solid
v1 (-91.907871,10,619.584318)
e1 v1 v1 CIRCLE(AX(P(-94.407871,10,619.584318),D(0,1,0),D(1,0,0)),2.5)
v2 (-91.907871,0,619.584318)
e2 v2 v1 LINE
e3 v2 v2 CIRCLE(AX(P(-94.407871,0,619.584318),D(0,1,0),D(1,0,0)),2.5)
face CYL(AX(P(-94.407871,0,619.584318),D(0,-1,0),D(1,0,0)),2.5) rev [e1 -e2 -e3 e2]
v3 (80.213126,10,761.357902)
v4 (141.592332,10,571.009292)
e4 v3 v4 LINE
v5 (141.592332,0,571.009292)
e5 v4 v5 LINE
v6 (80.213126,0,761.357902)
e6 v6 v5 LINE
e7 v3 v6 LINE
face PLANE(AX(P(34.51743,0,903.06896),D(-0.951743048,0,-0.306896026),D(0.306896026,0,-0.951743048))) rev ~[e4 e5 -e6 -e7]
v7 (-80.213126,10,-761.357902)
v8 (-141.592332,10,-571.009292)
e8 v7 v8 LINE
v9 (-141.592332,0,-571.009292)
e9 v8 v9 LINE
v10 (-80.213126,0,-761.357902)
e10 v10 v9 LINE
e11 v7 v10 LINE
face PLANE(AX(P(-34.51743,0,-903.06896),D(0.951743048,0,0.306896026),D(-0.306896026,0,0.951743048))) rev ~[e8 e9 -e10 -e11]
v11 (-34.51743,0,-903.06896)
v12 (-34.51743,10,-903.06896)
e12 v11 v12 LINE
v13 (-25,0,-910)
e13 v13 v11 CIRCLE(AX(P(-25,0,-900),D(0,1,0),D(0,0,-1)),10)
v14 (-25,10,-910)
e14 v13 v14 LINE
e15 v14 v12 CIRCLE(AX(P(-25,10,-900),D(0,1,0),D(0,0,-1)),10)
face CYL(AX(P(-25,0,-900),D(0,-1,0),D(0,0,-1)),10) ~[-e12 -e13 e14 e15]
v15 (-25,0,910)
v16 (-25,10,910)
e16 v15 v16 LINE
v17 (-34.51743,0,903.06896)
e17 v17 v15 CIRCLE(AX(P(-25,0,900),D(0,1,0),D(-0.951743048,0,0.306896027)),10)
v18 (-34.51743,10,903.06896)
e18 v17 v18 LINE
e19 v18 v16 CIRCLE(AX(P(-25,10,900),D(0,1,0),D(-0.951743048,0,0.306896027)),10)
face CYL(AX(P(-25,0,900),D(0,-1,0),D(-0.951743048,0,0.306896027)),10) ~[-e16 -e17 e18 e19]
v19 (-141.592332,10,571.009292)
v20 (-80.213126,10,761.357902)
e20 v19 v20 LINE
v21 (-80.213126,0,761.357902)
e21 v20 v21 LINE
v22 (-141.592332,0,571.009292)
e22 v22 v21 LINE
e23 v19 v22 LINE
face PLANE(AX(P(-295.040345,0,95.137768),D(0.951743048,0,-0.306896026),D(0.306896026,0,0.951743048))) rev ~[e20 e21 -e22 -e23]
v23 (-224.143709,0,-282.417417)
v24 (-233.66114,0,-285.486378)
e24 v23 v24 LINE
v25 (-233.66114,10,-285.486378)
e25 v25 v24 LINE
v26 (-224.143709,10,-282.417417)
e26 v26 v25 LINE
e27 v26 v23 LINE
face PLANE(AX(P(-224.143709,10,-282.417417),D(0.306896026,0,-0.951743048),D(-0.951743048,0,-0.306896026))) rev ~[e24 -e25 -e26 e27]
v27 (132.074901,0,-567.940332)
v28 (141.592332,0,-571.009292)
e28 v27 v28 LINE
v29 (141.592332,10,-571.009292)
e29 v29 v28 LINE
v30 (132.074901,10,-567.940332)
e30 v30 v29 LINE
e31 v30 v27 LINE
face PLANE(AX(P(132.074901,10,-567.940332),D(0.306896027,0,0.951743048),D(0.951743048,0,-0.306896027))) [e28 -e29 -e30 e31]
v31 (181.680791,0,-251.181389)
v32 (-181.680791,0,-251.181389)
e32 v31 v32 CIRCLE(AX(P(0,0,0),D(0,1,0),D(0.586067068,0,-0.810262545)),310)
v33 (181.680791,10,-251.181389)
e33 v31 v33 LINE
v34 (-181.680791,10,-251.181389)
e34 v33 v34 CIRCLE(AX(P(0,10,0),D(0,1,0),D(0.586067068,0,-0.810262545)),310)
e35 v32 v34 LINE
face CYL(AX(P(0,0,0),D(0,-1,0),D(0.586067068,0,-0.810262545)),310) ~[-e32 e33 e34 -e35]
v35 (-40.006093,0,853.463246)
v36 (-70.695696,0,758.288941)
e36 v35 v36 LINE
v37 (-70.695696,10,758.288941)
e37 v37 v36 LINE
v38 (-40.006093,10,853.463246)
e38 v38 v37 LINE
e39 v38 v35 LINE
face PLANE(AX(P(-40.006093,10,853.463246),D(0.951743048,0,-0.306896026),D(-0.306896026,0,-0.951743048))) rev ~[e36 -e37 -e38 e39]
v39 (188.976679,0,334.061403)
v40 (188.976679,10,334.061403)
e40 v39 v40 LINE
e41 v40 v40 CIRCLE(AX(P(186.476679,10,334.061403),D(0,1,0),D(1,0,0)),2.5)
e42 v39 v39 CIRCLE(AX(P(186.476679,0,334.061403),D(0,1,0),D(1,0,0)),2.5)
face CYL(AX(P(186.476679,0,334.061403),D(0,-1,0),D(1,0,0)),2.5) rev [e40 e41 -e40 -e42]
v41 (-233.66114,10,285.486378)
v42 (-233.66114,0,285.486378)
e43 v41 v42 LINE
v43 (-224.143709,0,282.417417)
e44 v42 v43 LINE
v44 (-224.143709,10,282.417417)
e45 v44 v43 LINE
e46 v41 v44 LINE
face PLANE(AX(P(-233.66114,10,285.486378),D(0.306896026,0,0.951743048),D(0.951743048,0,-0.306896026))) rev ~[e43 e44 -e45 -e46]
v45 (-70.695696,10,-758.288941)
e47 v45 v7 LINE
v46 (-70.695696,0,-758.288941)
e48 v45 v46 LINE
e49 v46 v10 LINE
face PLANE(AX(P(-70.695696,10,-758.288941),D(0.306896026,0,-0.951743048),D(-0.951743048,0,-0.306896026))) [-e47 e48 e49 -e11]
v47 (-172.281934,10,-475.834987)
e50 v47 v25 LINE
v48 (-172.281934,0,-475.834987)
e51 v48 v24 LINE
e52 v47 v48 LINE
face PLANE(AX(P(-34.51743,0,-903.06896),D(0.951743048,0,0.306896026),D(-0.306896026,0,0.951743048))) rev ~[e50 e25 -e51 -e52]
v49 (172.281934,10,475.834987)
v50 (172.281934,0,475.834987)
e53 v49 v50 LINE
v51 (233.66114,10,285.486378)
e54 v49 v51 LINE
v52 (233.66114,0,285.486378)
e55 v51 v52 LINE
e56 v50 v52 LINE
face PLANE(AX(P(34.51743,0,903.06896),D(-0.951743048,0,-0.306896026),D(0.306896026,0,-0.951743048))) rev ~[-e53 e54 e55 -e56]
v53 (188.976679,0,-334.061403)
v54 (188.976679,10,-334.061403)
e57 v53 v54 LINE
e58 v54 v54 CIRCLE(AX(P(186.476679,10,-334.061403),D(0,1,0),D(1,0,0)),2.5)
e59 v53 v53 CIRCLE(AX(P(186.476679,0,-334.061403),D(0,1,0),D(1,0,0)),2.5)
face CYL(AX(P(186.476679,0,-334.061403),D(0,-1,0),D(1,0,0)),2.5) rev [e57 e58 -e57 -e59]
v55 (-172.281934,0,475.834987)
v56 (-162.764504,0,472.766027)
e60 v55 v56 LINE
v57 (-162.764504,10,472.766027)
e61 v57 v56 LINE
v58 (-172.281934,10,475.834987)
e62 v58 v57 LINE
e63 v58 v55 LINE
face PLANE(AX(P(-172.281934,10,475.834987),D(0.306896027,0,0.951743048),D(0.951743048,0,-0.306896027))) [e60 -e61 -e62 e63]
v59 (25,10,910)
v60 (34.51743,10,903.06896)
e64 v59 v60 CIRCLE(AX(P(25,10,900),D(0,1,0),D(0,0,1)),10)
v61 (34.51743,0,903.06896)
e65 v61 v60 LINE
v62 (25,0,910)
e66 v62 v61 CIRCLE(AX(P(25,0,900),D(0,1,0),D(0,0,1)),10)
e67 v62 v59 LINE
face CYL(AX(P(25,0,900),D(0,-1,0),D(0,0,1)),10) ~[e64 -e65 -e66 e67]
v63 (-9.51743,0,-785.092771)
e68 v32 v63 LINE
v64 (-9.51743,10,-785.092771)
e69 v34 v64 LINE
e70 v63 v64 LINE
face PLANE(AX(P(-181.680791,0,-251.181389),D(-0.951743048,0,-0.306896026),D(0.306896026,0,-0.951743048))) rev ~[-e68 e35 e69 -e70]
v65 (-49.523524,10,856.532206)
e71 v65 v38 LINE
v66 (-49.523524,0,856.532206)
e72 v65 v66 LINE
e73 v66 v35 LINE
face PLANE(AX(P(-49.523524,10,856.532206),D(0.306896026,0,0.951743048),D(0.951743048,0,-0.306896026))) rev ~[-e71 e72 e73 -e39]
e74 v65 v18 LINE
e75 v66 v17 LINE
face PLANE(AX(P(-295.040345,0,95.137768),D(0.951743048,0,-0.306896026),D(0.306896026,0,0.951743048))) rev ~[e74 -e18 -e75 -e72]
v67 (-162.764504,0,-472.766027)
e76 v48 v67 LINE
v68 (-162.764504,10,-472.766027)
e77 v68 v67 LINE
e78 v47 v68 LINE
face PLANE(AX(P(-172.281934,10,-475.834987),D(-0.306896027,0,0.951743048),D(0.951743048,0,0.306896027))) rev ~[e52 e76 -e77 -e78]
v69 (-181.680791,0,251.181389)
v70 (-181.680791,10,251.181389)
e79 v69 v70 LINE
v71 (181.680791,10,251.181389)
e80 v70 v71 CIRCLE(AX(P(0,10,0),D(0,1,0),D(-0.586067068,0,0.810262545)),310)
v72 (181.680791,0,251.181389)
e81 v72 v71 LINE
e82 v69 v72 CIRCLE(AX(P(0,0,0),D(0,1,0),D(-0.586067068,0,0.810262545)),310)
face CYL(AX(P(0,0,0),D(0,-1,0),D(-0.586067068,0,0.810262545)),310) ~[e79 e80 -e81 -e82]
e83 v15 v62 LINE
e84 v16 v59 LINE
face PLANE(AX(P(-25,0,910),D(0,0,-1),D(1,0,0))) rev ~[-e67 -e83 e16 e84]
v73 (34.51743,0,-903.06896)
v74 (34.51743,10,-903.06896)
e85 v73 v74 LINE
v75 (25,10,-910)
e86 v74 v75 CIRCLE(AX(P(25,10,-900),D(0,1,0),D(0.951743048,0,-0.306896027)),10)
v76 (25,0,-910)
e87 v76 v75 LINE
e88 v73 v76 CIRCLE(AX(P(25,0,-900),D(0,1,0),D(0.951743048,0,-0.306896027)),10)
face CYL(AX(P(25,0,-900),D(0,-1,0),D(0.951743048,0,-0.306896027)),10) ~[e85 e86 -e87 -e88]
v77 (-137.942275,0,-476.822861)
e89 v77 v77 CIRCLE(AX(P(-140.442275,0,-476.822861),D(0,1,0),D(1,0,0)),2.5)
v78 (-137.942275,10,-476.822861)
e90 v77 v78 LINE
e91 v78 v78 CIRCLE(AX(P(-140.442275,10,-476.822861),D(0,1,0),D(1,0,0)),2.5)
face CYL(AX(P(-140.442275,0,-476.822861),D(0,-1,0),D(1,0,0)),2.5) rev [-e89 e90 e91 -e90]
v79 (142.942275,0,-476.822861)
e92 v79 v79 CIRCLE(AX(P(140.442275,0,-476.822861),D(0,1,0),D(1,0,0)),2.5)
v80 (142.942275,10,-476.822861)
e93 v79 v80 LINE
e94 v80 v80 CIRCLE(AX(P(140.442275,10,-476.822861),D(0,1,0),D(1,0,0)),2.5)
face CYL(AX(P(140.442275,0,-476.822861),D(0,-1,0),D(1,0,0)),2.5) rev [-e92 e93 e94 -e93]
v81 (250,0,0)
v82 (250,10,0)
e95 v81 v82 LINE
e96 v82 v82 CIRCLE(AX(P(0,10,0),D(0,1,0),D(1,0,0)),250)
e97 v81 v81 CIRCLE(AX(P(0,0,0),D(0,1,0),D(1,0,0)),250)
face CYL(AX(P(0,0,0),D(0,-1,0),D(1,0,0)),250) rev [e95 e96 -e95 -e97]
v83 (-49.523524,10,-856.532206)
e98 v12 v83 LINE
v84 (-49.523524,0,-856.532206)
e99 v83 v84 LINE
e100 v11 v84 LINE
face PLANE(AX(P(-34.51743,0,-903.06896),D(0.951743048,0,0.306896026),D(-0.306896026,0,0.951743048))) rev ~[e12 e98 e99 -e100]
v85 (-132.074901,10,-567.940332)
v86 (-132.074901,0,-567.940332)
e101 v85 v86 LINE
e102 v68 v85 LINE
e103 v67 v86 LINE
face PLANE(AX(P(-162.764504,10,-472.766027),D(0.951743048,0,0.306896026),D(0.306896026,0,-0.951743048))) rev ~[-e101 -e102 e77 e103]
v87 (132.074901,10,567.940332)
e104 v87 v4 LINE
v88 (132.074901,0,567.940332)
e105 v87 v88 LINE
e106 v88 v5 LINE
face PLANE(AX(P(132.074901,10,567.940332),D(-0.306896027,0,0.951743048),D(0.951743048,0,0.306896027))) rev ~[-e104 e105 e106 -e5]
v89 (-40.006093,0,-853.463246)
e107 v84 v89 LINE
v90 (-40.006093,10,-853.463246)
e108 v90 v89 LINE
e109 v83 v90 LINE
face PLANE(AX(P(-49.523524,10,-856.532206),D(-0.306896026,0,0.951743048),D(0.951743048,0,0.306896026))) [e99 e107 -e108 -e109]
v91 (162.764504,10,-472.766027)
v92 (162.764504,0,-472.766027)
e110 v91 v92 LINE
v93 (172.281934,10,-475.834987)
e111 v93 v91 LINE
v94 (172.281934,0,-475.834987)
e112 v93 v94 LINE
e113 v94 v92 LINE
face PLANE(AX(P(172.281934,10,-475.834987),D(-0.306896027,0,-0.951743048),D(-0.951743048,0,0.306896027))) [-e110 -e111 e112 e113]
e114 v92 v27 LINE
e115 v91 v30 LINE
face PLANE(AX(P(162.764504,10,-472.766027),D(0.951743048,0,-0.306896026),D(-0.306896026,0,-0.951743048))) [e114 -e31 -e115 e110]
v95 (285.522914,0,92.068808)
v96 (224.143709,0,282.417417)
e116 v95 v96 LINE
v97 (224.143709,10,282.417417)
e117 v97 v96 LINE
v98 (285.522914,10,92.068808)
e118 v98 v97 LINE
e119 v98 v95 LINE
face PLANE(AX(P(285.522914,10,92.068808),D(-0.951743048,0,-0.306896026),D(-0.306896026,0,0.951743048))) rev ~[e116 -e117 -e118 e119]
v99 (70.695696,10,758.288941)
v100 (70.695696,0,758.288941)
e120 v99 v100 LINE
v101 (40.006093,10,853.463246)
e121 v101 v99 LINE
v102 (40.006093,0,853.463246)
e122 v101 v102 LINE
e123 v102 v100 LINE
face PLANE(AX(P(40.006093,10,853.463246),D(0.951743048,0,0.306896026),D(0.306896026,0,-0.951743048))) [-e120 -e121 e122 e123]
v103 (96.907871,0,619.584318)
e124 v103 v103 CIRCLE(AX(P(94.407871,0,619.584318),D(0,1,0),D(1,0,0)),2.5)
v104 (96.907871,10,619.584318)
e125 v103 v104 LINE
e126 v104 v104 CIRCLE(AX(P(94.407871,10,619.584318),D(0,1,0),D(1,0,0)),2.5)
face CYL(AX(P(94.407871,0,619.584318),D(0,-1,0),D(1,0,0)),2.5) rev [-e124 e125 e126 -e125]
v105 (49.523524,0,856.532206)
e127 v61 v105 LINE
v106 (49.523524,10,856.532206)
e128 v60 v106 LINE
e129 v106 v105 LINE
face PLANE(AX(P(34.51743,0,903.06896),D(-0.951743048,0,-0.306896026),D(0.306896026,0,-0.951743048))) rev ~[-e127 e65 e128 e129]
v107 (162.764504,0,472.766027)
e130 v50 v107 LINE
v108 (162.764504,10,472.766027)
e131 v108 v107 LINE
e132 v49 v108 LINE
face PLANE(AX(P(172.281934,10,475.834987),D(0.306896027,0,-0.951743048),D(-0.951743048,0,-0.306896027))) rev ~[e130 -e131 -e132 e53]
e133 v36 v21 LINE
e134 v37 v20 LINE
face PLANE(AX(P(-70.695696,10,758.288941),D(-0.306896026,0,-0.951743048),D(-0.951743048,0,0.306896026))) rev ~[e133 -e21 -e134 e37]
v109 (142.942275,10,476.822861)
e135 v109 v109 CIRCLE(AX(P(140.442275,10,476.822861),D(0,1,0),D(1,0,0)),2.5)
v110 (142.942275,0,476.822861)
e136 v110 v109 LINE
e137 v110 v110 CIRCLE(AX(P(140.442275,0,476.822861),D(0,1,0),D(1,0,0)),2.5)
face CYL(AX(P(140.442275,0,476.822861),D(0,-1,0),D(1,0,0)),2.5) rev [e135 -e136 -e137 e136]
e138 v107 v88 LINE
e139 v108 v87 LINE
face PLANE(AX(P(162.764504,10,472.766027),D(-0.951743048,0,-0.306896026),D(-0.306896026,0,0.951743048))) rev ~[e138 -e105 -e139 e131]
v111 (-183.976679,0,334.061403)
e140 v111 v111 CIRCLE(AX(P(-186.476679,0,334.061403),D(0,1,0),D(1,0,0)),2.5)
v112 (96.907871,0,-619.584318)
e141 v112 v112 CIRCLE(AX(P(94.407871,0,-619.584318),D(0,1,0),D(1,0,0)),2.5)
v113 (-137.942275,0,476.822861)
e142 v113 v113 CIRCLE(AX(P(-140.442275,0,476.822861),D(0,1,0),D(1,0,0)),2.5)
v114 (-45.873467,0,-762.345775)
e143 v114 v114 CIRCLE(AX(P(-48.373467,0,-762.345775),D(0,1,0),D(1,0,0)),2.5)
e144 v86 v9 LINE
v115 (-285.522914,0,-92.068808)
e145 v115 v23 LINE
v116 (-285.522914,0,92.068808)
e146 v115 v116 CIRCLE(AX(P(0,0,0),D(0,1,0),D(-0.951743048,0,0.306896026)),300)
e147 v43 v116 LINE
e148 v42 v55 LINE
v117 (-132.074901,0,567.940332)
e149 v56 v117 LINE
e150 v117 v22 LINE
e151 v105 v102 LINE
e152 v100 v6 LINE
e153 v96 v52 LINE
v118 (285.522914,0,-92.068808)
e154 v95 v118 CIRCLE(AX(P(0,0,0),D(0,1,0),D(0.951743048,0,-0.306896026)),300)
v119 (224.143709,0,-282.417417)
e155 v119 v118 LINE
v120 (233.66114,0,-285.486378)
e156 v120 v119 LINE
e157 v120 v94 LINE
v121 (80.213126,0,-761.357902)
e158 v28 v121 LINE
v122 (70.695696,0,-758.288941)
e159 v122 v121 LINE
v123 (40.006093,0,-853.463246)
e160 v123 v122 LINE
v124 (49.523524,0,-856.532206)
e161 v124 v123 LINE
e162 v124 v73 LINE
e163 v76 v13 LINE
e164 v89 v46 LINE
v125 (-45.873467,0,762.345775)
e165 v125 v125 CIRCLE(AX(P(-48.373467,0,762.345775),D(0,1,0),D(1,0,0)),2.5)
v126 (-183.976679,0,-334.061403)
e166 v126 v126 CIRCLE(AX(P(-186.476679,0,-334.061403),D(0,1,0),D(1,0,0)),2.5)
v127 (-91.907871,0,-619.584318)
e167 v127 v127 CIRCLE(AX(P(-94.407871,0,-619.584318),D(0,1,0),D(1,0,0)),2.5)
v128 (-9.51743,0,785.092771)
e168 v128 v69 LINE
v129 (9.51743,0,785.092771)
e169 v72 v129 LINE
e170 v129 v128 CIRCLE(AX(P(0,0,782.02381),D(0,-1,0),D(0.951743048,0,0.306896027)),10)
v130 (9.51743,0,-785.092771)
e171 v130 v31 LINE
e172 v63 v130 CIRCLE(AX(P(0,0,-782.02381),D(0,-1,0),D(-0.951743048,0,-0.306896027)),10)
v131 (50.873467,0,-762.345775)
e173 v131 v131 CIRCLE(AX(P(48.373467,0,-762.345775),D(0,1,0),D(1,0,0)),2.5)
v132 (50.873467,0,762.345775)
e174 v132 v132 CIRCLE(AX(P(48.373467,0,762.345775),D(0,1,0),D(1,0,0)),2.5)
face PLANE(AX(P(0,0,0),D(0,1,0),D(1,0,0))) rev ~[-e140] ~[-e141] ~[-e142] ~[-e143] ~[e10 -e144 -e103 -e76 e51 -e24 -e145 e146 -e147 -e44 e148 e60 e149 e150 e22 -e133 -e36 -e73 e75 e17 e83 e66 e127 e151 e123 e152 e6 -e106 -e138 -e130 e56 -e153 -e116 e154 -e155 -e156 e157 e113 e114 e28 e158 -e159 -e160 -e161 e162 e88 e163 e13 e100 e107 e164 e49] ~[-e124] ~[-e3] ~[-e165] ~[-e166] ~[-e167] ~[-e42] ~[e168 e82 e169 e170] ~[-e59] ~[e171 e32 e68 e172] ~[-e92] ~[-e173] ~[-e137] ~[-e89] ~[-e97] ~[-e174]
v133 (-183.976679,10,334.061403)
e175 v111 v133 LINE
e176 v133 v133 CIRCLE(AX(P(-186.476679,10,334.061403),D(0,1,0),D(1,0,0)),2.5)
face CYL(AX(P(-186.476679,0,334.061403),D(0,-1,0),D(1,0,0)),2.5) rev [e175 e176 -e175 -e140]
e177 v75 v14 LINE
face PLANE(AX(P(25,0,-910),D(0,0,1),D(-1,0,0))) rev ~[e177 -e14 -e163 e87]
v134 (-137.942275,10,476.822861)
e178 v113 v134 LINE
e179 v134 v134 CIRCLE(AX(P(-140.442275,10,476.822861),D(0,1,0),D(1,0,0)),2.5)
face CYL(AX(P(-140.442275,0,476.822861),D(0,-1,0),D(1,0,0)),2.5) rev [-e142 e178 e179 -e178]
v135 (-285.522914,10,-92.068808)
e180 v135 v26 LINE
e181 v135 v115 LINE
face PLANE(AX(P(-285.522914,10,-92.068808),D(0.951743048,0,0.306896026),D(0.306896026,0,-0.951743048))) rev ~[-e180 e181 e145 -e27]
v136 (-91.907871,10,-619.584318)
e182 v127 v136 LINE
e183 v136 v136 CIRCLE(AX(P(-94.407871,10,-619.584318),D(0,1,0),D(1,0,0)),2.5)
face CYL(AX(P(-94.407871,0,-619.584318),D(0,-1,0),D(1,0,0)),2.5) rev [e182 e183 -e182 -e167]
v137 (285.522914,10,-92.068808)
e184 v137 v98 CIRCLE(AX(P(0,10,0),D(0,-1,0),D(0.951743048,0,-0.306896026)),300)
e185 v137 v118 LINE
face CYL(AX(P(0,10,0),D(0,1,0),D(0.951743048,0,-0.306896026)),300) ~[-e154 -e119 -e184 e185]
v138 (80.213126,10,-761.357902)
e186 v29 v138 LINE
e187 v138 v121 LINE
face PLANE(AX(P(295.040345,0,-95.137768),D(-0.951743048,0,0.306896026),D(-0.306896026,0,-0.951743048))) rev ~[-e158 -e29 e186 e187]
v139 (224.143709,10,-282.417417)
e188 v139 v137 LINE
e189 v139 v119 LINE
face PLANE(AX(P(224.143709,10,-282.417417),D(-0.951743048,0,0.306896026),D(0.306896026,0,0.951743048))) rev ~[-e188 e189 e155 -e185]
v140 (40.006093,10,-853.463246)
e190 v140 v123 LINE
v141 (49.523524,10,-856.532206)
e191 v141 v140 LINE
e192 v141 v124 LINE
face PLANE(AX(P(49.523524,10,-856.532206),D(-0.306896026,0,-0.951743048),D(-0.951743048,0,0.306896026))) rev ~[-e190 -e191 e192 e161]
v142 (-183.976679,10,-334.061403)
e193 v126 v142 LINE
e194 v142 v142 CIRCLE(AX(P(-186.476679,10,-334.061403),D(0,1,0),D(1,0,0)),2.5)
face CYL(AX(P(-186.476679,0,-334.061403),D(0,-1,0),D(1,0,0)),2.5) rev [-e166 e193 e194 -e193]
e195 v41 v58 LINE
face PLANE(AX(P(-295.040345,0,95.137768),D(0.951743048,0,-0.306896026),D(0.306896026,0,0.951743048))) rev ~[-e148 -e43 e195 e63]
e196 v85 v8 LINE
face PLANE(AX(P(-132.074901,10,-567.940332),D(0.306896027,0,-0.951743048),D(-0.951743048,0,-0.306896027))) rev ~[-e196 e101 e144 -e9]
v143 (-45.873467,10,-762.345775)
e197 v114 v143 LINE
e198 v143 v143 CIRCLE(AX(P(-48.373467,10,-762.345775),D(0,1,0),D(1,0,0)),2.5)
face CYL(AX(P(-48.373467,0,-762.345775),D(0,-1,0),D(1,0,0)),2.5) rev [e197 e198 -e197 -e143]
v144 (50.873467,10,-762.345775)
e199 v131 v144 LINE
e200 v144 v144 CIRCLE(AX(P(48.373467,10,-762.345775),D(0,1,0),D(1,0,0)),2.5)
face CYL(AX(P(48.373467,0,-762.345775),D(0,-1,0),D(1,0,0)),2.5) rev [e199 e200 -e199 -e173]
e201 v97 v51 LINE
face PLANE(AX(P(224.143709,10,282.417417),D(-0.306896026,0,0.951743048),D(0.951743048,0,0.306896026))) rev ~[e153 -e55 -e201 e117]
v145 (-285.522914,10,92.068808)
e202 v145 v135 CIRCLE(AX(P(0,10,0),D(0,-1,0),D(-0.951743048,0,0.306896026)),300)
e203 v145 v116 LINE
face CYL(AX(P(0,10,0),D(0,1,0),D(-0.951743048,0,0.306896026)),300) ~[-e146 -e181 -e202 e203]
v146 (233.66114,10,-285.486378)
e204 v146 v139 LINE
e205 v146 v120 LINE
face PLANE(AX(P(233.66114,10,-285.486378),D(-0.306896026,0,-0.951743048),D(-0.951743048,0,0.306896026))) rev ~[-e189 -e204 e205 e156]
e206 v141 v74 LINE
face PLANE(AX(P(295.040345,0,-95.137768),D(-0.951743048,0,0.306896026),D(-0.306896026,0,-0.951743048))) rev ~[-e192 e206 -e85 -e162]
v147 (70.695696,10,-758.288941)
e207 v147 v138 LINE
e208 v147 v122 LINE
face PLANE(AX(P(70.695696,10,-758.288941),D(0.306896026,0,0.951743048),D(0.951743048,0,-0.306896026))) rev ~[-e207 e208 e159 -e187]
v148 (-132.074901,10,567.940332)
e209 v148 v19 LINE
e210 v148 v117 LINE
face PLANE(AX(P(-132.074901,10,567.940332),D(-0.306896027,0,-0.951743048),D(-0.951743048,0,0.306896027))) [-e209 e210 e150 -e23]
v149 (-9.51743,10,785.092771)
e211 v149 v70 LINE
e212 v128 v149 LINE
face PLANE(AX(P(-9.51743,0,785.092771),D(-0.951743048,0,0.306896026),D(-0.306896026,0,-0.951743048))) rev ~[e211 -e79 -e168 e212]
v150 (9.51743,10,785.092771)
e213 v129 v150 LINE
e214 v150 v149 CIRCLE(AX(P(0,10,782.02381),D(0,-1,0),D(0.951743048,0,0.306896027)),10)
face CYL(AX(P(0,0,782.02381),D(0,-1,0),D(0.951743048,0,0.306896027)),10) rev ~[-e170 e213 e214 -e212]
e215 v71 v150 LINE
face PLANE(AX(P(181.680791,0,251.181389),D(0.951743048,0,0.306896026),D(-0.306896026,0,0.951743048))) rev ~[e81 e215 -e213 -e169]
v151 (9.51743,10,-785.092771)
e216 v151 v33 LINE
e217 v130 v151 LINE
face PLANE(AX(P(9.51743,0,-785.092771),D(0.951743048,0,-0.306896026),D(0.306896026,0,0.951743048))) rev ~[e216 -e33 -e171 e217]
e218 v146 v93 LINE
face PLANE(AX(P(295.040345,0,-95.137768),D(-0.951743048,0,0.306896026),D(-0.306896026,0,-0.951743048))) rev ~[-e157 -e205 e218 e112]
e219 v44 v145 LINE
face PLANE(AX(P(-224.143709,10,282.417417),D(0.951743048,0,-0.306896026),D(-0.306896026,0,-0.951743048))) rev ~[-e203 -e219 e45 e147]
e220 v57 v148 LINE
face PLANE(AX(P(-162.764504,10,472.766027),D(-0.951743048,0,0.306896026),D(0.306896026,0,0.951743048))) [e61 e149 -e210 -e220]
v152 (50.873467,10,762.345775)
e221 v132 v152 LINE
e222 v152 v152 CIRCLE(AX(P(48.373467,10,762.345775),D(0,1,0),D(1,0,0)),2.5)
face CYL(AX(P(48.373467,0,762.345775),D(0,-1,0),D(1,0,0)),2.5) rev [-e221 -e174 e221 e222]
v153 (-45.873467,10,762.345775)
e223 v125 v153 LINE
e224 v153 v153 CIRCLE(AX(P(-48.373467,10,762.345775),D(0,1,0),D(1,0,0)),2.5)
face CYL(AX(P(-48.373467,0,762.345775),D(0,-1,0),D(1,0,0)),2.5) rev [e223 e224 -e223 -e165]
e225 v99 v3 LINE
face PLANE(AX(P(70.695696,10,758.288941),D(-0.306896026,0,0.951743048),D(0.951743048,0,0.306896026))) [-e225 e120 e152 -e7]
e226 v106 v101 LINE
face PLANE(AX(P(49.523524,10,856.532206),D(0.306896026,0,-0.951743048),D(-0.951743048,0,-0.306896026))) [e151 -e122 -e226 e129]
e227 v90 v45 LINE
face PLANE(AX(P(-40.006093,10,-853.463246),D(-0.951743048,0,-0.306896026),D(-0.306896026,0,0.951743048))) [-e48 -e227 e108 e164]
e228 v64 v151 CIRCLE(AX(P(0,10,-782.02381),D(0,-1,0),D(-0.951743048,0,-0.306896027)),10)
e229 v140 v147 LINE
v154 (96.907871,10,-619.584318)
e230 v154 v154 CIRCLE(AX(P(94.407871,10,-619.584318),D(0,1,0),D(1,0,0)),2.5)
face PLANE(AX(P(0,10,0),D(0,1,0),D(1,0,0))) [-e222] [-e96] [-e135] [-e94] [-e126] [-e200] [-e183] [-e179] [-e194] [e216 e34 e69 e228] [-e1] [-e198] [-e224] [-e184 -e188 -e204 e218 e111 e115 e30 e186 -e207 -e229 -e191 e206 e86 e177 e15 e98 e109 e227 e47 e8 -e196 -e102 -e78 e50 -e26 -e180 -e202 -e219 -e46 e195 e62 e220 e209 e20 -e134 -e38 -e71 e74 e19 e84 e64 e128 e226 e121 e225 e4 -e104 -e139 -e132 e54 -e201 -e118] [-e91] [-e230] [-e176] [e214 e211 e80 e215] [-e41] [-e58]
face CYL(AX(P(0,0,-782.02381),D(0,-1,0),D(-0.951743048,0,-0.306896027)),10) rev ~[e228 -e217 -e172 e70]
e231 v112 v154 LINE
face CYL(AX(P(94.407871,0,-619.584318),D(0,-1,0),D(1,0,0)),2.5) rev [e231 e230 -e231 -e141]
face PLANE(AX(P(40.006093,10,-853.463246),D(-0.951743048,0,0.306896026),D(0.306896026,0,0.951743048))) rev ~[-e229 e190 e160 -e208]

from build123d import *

# Parameters (mm, degrees)
SKETCH2_R           = 2.5
SKETCH2_R_2         = 250
BOSS_EXTRUDE1_DEPTH = 10
CUT_EXTRUDE1_DEPTH  = 11


with BuildPart() as part:
    # Sketch2 → Boss-Extrude1 (new body)
    with BuildSketch(Plane(origin=(0, 0, 0), x_dir=(1, 0, 0), z_dir=(0, 1, 0))):
        with BuildLine():
            Line((-34.517430478, 903.068960265), (-295.040344804, 95.1377682))
            ThreePointArc((-295.040344804, 95.1377682), (-310, 0), (-295.040344804, -95.1377682))
            Line((-295.040344804, -95.1377682), (-34.517430478, -903.068960265))
            ThreePointArc((-34.517430478, -903.068960265), (-30.886866626, -908.083613135), (-25, -910))
            Line((-25, -910), (25, -910))
            ThreePointArc((25, -910), (30.886866626, -908.083613135), (34.517430478, -903.068960265))
            Line((34.517430478, -903.068960265), (295.040344804, -95.1377682))
            ThreePointArc((295.040344804, -95.1377682), (310, 0), (295.040344804, 95.1377682))
            Line((295.040344804, 95.1377682), (34.517430478, 903.068960265))
            ThreePointArc((34.517430478, 903.068960265), (30.886866626, 908.083613135), (25, 910))
            Line((25, 910), (-25, 910))
            ThreePointArc((-25, 910), (-30.886866626, 908.083613135), (-34.517430478, 903.068960265))
        make_face()
        with Locations((-48.373467006, -762.345774842)):
            Circle(SKETCH2_R, mode=Mode.SUBTRACT)
        with Locations((-94.407870974, -619.584317679)):
            Circle(SKETCH2_R, mode=Mode.SUBTRACT)
        with Locations((-140.442274942, -476.822860516)):
            Circle(SKETCH2_R, mode=Mode.SUBTRACT)
        with BuildLine():
            ThreePointArc((-181.680791071, -251.181388952), (0, -310), (181.680791071, -251.181388952))
            Line((181.680791071, -251.181388952), (9.517430478, -785.092770658))
            ThreePointArc((9.517430478, -785.092770658), (0, -792.023810393), (-9.517430478, -785.092770658))
            Line((-9.517430478, -785.092770658), (-181.680791071, -251.181388952))
        make_face(mode=Mode.SUBTRACT)
        with Locations((-186.476678909, -334.061403353)):
            Circle(SKETCH2_R, mode=Mode.SUBTRACT)
        with Locations((48.373467006, -762.345774842)):
            Circle(SKETCH2_R, mode=Mode.SUBTRACT)
        with Locations((94.407870974, -619.584317679)):
            Circle(SKETCH2_R, mode=Mode.SUBTRACT)
        with Locations((140.442274942, -476.822860516)):
            Circle(SKETCH2_R, mode=Mode.SUBTRACT)
        with Locations((186.476678909, -334.061403353)):
            Circle(SKETCH2_R, mode=Mode.SUBTRACT)
        with Locations((-186.476678909, 334.061403353)):
            Circle(SKETCH2_R, mode=Mode.SUBTRACT)
        with Locations((-140.442274942, 476.822860516)):
            Circle(SKETCH2_R, mode=Mode.SUBTRACT)
        with Locations((-94.407870974, 619.584317679)):
            Circle(SKETCH2_R, mode=Mode.SUBTRACT)
        with BuildLine():
            ThreePointArc((181.680791071, 251.181388952), (0, 310), (-181.680791071, 251.181388952))
            Line((-181.680791071, 251.181388952), (-9.517430478, 785.092770658))
            ThreePointArc((-9.517430478, 785.092770658), (0, 792.023810393), (9.517430478, 785.092770658))
            Line((9.517430478, 785.092770658), (181.680791071, 251.181388952))
        make_face(mode=Mode.SUBTRACT)
        with Locations((-48.373467006, 762.345774842)):
            Circle(SKETCH2_R, mode=Mode.SUBTRACT)
        Circle(SKETCH2_R_2, mode=Mode.SUBTRACT)
        with Locations((186.476678909, 334.061403353)):
            Circle(SKETCH2_R, mode=Mode.SUBTRACT)
        with Locations((140.442274942, 476.822860516)):
            Circle(SKETCH2_R, mode=Mode.SUBTRACT)
        with Locations((94.407870974, 619.584317679)):
            Circle(SKETCH2_R, mode=Mode.SUBTRACT)
        with Locations((48.373467006, 762.345774842)):
            Circle(SKETCH2_R, mode=Mode.SUBTRACT)
    extrude(amount=BOSS_EXTRUDE1_DEPTH)

    # Sketch3 → Cut-Extrude1 (cut, through all)
    with BuildSketch(Plane(origin=(0, 10, 0), x_dir=(1, 0, 0), z_dir=(0, 1, 0))):
        Polygon((-49.523523643, -856.532206403), (-40.006093165, -853.463246139), (-70.69569581, -758.288941363), (-80.213126288, -761.357901628), align=None)
        Polygon((-132.074901101, -567.940331812), (-141.592331578, -571.009292077), (-172.281934223, -475.834987302), (-162.764503746, -472.766027037), align=None)
        with BuildLine():
            Line((-233.661139514, -285.486377751), (-224.143709036, -282.417417486))
            Line((-224.143709036, -282.417417486), (-285.522914326, -92.068807935))
            ThreePointArc((-285.522914326, -92.068807935), (-300, 0), (-285.522914326, 92.068807935))
            Line((-285.522914326, 92.068807935), (-224.143709036, 282.417417486))
            Line((-224.143709036, 282.417417486), (-233.661139514, 285.486377751))
            Line((-233.661139514, 285.486377751), (-295.040344804, 95.1377682))
            ThreePointArc((-295.040344804, 95.1377682), (-310, 0), (-295.040344804, -95.1377682))
            Line((-295.040344804, -95.1377682), (-233.661139514, -285.486377751))
        make_face()
        Polygon((-49.523523643, 856.532206403), (-40.006093165, 853.463246139), (-70.69569581, 758.288941363), (-80.213126288, 761.357901628), align=None)
        Polygon((-162.764503746, 472.766027037), (-132.074901101, 567.940331812), (-141.592331578, 571.009292077), (-172.281934223, 475.834987302), align=None)
        Polygon((49.523523643, 856.532206403), (40.006093165, 853.463246139), (70.69569581, 758.288941363), (80.213126288, 761.357901628), align=None)
        Polygon((49.523523643, -856.532206403), (40.006093165, -853.463246139), (70.69569581, -758.288941363), (80.213126288, -761.357901628), align=None)
        Polygon((132.074901101, 567.940331812), (141.592331578, 571.009292077), (172.281934223, 475.834987302), (162.764503746, 472.766027037), align=None)
        with BuildLine():
            Line((233.661139514, 285.486377751), (224.143709036, 282.417417486))
            Line((224.143709036, 282.417417486), (285.522914326, 92.068807935))
            ThreePointArc((285.522914326, 92.068807935), (300, 0), (285.522914326, -92.068807935))
            Line((285.522914326, -92.068807935), (224.143709036, -282.417417486))
            Line((224.143709036, -282.417417486), (233.661139514, -285.486377751))
            Line((233.661139514, -285.486377751), (295.040344804, -95.1377682))
            ThreePointArc((295.040344804, -95.1377682), (310, 0), (295.040344804, 95.1377682))
            Line((295.040344804, 95.1377682), (233.661139514, 285.486377751))
        make_face()
        Polygon((162.764503746, -472.766027037), (132.074901101, -567.940331812), (141.592331578, -571.009292077), (172.281934223, -475.834987302), align=None)
    extrude(amount=-CUT_EXTRUDE1_DEPTH, mode=Mode.SUBTRACT)


solid = part.part
